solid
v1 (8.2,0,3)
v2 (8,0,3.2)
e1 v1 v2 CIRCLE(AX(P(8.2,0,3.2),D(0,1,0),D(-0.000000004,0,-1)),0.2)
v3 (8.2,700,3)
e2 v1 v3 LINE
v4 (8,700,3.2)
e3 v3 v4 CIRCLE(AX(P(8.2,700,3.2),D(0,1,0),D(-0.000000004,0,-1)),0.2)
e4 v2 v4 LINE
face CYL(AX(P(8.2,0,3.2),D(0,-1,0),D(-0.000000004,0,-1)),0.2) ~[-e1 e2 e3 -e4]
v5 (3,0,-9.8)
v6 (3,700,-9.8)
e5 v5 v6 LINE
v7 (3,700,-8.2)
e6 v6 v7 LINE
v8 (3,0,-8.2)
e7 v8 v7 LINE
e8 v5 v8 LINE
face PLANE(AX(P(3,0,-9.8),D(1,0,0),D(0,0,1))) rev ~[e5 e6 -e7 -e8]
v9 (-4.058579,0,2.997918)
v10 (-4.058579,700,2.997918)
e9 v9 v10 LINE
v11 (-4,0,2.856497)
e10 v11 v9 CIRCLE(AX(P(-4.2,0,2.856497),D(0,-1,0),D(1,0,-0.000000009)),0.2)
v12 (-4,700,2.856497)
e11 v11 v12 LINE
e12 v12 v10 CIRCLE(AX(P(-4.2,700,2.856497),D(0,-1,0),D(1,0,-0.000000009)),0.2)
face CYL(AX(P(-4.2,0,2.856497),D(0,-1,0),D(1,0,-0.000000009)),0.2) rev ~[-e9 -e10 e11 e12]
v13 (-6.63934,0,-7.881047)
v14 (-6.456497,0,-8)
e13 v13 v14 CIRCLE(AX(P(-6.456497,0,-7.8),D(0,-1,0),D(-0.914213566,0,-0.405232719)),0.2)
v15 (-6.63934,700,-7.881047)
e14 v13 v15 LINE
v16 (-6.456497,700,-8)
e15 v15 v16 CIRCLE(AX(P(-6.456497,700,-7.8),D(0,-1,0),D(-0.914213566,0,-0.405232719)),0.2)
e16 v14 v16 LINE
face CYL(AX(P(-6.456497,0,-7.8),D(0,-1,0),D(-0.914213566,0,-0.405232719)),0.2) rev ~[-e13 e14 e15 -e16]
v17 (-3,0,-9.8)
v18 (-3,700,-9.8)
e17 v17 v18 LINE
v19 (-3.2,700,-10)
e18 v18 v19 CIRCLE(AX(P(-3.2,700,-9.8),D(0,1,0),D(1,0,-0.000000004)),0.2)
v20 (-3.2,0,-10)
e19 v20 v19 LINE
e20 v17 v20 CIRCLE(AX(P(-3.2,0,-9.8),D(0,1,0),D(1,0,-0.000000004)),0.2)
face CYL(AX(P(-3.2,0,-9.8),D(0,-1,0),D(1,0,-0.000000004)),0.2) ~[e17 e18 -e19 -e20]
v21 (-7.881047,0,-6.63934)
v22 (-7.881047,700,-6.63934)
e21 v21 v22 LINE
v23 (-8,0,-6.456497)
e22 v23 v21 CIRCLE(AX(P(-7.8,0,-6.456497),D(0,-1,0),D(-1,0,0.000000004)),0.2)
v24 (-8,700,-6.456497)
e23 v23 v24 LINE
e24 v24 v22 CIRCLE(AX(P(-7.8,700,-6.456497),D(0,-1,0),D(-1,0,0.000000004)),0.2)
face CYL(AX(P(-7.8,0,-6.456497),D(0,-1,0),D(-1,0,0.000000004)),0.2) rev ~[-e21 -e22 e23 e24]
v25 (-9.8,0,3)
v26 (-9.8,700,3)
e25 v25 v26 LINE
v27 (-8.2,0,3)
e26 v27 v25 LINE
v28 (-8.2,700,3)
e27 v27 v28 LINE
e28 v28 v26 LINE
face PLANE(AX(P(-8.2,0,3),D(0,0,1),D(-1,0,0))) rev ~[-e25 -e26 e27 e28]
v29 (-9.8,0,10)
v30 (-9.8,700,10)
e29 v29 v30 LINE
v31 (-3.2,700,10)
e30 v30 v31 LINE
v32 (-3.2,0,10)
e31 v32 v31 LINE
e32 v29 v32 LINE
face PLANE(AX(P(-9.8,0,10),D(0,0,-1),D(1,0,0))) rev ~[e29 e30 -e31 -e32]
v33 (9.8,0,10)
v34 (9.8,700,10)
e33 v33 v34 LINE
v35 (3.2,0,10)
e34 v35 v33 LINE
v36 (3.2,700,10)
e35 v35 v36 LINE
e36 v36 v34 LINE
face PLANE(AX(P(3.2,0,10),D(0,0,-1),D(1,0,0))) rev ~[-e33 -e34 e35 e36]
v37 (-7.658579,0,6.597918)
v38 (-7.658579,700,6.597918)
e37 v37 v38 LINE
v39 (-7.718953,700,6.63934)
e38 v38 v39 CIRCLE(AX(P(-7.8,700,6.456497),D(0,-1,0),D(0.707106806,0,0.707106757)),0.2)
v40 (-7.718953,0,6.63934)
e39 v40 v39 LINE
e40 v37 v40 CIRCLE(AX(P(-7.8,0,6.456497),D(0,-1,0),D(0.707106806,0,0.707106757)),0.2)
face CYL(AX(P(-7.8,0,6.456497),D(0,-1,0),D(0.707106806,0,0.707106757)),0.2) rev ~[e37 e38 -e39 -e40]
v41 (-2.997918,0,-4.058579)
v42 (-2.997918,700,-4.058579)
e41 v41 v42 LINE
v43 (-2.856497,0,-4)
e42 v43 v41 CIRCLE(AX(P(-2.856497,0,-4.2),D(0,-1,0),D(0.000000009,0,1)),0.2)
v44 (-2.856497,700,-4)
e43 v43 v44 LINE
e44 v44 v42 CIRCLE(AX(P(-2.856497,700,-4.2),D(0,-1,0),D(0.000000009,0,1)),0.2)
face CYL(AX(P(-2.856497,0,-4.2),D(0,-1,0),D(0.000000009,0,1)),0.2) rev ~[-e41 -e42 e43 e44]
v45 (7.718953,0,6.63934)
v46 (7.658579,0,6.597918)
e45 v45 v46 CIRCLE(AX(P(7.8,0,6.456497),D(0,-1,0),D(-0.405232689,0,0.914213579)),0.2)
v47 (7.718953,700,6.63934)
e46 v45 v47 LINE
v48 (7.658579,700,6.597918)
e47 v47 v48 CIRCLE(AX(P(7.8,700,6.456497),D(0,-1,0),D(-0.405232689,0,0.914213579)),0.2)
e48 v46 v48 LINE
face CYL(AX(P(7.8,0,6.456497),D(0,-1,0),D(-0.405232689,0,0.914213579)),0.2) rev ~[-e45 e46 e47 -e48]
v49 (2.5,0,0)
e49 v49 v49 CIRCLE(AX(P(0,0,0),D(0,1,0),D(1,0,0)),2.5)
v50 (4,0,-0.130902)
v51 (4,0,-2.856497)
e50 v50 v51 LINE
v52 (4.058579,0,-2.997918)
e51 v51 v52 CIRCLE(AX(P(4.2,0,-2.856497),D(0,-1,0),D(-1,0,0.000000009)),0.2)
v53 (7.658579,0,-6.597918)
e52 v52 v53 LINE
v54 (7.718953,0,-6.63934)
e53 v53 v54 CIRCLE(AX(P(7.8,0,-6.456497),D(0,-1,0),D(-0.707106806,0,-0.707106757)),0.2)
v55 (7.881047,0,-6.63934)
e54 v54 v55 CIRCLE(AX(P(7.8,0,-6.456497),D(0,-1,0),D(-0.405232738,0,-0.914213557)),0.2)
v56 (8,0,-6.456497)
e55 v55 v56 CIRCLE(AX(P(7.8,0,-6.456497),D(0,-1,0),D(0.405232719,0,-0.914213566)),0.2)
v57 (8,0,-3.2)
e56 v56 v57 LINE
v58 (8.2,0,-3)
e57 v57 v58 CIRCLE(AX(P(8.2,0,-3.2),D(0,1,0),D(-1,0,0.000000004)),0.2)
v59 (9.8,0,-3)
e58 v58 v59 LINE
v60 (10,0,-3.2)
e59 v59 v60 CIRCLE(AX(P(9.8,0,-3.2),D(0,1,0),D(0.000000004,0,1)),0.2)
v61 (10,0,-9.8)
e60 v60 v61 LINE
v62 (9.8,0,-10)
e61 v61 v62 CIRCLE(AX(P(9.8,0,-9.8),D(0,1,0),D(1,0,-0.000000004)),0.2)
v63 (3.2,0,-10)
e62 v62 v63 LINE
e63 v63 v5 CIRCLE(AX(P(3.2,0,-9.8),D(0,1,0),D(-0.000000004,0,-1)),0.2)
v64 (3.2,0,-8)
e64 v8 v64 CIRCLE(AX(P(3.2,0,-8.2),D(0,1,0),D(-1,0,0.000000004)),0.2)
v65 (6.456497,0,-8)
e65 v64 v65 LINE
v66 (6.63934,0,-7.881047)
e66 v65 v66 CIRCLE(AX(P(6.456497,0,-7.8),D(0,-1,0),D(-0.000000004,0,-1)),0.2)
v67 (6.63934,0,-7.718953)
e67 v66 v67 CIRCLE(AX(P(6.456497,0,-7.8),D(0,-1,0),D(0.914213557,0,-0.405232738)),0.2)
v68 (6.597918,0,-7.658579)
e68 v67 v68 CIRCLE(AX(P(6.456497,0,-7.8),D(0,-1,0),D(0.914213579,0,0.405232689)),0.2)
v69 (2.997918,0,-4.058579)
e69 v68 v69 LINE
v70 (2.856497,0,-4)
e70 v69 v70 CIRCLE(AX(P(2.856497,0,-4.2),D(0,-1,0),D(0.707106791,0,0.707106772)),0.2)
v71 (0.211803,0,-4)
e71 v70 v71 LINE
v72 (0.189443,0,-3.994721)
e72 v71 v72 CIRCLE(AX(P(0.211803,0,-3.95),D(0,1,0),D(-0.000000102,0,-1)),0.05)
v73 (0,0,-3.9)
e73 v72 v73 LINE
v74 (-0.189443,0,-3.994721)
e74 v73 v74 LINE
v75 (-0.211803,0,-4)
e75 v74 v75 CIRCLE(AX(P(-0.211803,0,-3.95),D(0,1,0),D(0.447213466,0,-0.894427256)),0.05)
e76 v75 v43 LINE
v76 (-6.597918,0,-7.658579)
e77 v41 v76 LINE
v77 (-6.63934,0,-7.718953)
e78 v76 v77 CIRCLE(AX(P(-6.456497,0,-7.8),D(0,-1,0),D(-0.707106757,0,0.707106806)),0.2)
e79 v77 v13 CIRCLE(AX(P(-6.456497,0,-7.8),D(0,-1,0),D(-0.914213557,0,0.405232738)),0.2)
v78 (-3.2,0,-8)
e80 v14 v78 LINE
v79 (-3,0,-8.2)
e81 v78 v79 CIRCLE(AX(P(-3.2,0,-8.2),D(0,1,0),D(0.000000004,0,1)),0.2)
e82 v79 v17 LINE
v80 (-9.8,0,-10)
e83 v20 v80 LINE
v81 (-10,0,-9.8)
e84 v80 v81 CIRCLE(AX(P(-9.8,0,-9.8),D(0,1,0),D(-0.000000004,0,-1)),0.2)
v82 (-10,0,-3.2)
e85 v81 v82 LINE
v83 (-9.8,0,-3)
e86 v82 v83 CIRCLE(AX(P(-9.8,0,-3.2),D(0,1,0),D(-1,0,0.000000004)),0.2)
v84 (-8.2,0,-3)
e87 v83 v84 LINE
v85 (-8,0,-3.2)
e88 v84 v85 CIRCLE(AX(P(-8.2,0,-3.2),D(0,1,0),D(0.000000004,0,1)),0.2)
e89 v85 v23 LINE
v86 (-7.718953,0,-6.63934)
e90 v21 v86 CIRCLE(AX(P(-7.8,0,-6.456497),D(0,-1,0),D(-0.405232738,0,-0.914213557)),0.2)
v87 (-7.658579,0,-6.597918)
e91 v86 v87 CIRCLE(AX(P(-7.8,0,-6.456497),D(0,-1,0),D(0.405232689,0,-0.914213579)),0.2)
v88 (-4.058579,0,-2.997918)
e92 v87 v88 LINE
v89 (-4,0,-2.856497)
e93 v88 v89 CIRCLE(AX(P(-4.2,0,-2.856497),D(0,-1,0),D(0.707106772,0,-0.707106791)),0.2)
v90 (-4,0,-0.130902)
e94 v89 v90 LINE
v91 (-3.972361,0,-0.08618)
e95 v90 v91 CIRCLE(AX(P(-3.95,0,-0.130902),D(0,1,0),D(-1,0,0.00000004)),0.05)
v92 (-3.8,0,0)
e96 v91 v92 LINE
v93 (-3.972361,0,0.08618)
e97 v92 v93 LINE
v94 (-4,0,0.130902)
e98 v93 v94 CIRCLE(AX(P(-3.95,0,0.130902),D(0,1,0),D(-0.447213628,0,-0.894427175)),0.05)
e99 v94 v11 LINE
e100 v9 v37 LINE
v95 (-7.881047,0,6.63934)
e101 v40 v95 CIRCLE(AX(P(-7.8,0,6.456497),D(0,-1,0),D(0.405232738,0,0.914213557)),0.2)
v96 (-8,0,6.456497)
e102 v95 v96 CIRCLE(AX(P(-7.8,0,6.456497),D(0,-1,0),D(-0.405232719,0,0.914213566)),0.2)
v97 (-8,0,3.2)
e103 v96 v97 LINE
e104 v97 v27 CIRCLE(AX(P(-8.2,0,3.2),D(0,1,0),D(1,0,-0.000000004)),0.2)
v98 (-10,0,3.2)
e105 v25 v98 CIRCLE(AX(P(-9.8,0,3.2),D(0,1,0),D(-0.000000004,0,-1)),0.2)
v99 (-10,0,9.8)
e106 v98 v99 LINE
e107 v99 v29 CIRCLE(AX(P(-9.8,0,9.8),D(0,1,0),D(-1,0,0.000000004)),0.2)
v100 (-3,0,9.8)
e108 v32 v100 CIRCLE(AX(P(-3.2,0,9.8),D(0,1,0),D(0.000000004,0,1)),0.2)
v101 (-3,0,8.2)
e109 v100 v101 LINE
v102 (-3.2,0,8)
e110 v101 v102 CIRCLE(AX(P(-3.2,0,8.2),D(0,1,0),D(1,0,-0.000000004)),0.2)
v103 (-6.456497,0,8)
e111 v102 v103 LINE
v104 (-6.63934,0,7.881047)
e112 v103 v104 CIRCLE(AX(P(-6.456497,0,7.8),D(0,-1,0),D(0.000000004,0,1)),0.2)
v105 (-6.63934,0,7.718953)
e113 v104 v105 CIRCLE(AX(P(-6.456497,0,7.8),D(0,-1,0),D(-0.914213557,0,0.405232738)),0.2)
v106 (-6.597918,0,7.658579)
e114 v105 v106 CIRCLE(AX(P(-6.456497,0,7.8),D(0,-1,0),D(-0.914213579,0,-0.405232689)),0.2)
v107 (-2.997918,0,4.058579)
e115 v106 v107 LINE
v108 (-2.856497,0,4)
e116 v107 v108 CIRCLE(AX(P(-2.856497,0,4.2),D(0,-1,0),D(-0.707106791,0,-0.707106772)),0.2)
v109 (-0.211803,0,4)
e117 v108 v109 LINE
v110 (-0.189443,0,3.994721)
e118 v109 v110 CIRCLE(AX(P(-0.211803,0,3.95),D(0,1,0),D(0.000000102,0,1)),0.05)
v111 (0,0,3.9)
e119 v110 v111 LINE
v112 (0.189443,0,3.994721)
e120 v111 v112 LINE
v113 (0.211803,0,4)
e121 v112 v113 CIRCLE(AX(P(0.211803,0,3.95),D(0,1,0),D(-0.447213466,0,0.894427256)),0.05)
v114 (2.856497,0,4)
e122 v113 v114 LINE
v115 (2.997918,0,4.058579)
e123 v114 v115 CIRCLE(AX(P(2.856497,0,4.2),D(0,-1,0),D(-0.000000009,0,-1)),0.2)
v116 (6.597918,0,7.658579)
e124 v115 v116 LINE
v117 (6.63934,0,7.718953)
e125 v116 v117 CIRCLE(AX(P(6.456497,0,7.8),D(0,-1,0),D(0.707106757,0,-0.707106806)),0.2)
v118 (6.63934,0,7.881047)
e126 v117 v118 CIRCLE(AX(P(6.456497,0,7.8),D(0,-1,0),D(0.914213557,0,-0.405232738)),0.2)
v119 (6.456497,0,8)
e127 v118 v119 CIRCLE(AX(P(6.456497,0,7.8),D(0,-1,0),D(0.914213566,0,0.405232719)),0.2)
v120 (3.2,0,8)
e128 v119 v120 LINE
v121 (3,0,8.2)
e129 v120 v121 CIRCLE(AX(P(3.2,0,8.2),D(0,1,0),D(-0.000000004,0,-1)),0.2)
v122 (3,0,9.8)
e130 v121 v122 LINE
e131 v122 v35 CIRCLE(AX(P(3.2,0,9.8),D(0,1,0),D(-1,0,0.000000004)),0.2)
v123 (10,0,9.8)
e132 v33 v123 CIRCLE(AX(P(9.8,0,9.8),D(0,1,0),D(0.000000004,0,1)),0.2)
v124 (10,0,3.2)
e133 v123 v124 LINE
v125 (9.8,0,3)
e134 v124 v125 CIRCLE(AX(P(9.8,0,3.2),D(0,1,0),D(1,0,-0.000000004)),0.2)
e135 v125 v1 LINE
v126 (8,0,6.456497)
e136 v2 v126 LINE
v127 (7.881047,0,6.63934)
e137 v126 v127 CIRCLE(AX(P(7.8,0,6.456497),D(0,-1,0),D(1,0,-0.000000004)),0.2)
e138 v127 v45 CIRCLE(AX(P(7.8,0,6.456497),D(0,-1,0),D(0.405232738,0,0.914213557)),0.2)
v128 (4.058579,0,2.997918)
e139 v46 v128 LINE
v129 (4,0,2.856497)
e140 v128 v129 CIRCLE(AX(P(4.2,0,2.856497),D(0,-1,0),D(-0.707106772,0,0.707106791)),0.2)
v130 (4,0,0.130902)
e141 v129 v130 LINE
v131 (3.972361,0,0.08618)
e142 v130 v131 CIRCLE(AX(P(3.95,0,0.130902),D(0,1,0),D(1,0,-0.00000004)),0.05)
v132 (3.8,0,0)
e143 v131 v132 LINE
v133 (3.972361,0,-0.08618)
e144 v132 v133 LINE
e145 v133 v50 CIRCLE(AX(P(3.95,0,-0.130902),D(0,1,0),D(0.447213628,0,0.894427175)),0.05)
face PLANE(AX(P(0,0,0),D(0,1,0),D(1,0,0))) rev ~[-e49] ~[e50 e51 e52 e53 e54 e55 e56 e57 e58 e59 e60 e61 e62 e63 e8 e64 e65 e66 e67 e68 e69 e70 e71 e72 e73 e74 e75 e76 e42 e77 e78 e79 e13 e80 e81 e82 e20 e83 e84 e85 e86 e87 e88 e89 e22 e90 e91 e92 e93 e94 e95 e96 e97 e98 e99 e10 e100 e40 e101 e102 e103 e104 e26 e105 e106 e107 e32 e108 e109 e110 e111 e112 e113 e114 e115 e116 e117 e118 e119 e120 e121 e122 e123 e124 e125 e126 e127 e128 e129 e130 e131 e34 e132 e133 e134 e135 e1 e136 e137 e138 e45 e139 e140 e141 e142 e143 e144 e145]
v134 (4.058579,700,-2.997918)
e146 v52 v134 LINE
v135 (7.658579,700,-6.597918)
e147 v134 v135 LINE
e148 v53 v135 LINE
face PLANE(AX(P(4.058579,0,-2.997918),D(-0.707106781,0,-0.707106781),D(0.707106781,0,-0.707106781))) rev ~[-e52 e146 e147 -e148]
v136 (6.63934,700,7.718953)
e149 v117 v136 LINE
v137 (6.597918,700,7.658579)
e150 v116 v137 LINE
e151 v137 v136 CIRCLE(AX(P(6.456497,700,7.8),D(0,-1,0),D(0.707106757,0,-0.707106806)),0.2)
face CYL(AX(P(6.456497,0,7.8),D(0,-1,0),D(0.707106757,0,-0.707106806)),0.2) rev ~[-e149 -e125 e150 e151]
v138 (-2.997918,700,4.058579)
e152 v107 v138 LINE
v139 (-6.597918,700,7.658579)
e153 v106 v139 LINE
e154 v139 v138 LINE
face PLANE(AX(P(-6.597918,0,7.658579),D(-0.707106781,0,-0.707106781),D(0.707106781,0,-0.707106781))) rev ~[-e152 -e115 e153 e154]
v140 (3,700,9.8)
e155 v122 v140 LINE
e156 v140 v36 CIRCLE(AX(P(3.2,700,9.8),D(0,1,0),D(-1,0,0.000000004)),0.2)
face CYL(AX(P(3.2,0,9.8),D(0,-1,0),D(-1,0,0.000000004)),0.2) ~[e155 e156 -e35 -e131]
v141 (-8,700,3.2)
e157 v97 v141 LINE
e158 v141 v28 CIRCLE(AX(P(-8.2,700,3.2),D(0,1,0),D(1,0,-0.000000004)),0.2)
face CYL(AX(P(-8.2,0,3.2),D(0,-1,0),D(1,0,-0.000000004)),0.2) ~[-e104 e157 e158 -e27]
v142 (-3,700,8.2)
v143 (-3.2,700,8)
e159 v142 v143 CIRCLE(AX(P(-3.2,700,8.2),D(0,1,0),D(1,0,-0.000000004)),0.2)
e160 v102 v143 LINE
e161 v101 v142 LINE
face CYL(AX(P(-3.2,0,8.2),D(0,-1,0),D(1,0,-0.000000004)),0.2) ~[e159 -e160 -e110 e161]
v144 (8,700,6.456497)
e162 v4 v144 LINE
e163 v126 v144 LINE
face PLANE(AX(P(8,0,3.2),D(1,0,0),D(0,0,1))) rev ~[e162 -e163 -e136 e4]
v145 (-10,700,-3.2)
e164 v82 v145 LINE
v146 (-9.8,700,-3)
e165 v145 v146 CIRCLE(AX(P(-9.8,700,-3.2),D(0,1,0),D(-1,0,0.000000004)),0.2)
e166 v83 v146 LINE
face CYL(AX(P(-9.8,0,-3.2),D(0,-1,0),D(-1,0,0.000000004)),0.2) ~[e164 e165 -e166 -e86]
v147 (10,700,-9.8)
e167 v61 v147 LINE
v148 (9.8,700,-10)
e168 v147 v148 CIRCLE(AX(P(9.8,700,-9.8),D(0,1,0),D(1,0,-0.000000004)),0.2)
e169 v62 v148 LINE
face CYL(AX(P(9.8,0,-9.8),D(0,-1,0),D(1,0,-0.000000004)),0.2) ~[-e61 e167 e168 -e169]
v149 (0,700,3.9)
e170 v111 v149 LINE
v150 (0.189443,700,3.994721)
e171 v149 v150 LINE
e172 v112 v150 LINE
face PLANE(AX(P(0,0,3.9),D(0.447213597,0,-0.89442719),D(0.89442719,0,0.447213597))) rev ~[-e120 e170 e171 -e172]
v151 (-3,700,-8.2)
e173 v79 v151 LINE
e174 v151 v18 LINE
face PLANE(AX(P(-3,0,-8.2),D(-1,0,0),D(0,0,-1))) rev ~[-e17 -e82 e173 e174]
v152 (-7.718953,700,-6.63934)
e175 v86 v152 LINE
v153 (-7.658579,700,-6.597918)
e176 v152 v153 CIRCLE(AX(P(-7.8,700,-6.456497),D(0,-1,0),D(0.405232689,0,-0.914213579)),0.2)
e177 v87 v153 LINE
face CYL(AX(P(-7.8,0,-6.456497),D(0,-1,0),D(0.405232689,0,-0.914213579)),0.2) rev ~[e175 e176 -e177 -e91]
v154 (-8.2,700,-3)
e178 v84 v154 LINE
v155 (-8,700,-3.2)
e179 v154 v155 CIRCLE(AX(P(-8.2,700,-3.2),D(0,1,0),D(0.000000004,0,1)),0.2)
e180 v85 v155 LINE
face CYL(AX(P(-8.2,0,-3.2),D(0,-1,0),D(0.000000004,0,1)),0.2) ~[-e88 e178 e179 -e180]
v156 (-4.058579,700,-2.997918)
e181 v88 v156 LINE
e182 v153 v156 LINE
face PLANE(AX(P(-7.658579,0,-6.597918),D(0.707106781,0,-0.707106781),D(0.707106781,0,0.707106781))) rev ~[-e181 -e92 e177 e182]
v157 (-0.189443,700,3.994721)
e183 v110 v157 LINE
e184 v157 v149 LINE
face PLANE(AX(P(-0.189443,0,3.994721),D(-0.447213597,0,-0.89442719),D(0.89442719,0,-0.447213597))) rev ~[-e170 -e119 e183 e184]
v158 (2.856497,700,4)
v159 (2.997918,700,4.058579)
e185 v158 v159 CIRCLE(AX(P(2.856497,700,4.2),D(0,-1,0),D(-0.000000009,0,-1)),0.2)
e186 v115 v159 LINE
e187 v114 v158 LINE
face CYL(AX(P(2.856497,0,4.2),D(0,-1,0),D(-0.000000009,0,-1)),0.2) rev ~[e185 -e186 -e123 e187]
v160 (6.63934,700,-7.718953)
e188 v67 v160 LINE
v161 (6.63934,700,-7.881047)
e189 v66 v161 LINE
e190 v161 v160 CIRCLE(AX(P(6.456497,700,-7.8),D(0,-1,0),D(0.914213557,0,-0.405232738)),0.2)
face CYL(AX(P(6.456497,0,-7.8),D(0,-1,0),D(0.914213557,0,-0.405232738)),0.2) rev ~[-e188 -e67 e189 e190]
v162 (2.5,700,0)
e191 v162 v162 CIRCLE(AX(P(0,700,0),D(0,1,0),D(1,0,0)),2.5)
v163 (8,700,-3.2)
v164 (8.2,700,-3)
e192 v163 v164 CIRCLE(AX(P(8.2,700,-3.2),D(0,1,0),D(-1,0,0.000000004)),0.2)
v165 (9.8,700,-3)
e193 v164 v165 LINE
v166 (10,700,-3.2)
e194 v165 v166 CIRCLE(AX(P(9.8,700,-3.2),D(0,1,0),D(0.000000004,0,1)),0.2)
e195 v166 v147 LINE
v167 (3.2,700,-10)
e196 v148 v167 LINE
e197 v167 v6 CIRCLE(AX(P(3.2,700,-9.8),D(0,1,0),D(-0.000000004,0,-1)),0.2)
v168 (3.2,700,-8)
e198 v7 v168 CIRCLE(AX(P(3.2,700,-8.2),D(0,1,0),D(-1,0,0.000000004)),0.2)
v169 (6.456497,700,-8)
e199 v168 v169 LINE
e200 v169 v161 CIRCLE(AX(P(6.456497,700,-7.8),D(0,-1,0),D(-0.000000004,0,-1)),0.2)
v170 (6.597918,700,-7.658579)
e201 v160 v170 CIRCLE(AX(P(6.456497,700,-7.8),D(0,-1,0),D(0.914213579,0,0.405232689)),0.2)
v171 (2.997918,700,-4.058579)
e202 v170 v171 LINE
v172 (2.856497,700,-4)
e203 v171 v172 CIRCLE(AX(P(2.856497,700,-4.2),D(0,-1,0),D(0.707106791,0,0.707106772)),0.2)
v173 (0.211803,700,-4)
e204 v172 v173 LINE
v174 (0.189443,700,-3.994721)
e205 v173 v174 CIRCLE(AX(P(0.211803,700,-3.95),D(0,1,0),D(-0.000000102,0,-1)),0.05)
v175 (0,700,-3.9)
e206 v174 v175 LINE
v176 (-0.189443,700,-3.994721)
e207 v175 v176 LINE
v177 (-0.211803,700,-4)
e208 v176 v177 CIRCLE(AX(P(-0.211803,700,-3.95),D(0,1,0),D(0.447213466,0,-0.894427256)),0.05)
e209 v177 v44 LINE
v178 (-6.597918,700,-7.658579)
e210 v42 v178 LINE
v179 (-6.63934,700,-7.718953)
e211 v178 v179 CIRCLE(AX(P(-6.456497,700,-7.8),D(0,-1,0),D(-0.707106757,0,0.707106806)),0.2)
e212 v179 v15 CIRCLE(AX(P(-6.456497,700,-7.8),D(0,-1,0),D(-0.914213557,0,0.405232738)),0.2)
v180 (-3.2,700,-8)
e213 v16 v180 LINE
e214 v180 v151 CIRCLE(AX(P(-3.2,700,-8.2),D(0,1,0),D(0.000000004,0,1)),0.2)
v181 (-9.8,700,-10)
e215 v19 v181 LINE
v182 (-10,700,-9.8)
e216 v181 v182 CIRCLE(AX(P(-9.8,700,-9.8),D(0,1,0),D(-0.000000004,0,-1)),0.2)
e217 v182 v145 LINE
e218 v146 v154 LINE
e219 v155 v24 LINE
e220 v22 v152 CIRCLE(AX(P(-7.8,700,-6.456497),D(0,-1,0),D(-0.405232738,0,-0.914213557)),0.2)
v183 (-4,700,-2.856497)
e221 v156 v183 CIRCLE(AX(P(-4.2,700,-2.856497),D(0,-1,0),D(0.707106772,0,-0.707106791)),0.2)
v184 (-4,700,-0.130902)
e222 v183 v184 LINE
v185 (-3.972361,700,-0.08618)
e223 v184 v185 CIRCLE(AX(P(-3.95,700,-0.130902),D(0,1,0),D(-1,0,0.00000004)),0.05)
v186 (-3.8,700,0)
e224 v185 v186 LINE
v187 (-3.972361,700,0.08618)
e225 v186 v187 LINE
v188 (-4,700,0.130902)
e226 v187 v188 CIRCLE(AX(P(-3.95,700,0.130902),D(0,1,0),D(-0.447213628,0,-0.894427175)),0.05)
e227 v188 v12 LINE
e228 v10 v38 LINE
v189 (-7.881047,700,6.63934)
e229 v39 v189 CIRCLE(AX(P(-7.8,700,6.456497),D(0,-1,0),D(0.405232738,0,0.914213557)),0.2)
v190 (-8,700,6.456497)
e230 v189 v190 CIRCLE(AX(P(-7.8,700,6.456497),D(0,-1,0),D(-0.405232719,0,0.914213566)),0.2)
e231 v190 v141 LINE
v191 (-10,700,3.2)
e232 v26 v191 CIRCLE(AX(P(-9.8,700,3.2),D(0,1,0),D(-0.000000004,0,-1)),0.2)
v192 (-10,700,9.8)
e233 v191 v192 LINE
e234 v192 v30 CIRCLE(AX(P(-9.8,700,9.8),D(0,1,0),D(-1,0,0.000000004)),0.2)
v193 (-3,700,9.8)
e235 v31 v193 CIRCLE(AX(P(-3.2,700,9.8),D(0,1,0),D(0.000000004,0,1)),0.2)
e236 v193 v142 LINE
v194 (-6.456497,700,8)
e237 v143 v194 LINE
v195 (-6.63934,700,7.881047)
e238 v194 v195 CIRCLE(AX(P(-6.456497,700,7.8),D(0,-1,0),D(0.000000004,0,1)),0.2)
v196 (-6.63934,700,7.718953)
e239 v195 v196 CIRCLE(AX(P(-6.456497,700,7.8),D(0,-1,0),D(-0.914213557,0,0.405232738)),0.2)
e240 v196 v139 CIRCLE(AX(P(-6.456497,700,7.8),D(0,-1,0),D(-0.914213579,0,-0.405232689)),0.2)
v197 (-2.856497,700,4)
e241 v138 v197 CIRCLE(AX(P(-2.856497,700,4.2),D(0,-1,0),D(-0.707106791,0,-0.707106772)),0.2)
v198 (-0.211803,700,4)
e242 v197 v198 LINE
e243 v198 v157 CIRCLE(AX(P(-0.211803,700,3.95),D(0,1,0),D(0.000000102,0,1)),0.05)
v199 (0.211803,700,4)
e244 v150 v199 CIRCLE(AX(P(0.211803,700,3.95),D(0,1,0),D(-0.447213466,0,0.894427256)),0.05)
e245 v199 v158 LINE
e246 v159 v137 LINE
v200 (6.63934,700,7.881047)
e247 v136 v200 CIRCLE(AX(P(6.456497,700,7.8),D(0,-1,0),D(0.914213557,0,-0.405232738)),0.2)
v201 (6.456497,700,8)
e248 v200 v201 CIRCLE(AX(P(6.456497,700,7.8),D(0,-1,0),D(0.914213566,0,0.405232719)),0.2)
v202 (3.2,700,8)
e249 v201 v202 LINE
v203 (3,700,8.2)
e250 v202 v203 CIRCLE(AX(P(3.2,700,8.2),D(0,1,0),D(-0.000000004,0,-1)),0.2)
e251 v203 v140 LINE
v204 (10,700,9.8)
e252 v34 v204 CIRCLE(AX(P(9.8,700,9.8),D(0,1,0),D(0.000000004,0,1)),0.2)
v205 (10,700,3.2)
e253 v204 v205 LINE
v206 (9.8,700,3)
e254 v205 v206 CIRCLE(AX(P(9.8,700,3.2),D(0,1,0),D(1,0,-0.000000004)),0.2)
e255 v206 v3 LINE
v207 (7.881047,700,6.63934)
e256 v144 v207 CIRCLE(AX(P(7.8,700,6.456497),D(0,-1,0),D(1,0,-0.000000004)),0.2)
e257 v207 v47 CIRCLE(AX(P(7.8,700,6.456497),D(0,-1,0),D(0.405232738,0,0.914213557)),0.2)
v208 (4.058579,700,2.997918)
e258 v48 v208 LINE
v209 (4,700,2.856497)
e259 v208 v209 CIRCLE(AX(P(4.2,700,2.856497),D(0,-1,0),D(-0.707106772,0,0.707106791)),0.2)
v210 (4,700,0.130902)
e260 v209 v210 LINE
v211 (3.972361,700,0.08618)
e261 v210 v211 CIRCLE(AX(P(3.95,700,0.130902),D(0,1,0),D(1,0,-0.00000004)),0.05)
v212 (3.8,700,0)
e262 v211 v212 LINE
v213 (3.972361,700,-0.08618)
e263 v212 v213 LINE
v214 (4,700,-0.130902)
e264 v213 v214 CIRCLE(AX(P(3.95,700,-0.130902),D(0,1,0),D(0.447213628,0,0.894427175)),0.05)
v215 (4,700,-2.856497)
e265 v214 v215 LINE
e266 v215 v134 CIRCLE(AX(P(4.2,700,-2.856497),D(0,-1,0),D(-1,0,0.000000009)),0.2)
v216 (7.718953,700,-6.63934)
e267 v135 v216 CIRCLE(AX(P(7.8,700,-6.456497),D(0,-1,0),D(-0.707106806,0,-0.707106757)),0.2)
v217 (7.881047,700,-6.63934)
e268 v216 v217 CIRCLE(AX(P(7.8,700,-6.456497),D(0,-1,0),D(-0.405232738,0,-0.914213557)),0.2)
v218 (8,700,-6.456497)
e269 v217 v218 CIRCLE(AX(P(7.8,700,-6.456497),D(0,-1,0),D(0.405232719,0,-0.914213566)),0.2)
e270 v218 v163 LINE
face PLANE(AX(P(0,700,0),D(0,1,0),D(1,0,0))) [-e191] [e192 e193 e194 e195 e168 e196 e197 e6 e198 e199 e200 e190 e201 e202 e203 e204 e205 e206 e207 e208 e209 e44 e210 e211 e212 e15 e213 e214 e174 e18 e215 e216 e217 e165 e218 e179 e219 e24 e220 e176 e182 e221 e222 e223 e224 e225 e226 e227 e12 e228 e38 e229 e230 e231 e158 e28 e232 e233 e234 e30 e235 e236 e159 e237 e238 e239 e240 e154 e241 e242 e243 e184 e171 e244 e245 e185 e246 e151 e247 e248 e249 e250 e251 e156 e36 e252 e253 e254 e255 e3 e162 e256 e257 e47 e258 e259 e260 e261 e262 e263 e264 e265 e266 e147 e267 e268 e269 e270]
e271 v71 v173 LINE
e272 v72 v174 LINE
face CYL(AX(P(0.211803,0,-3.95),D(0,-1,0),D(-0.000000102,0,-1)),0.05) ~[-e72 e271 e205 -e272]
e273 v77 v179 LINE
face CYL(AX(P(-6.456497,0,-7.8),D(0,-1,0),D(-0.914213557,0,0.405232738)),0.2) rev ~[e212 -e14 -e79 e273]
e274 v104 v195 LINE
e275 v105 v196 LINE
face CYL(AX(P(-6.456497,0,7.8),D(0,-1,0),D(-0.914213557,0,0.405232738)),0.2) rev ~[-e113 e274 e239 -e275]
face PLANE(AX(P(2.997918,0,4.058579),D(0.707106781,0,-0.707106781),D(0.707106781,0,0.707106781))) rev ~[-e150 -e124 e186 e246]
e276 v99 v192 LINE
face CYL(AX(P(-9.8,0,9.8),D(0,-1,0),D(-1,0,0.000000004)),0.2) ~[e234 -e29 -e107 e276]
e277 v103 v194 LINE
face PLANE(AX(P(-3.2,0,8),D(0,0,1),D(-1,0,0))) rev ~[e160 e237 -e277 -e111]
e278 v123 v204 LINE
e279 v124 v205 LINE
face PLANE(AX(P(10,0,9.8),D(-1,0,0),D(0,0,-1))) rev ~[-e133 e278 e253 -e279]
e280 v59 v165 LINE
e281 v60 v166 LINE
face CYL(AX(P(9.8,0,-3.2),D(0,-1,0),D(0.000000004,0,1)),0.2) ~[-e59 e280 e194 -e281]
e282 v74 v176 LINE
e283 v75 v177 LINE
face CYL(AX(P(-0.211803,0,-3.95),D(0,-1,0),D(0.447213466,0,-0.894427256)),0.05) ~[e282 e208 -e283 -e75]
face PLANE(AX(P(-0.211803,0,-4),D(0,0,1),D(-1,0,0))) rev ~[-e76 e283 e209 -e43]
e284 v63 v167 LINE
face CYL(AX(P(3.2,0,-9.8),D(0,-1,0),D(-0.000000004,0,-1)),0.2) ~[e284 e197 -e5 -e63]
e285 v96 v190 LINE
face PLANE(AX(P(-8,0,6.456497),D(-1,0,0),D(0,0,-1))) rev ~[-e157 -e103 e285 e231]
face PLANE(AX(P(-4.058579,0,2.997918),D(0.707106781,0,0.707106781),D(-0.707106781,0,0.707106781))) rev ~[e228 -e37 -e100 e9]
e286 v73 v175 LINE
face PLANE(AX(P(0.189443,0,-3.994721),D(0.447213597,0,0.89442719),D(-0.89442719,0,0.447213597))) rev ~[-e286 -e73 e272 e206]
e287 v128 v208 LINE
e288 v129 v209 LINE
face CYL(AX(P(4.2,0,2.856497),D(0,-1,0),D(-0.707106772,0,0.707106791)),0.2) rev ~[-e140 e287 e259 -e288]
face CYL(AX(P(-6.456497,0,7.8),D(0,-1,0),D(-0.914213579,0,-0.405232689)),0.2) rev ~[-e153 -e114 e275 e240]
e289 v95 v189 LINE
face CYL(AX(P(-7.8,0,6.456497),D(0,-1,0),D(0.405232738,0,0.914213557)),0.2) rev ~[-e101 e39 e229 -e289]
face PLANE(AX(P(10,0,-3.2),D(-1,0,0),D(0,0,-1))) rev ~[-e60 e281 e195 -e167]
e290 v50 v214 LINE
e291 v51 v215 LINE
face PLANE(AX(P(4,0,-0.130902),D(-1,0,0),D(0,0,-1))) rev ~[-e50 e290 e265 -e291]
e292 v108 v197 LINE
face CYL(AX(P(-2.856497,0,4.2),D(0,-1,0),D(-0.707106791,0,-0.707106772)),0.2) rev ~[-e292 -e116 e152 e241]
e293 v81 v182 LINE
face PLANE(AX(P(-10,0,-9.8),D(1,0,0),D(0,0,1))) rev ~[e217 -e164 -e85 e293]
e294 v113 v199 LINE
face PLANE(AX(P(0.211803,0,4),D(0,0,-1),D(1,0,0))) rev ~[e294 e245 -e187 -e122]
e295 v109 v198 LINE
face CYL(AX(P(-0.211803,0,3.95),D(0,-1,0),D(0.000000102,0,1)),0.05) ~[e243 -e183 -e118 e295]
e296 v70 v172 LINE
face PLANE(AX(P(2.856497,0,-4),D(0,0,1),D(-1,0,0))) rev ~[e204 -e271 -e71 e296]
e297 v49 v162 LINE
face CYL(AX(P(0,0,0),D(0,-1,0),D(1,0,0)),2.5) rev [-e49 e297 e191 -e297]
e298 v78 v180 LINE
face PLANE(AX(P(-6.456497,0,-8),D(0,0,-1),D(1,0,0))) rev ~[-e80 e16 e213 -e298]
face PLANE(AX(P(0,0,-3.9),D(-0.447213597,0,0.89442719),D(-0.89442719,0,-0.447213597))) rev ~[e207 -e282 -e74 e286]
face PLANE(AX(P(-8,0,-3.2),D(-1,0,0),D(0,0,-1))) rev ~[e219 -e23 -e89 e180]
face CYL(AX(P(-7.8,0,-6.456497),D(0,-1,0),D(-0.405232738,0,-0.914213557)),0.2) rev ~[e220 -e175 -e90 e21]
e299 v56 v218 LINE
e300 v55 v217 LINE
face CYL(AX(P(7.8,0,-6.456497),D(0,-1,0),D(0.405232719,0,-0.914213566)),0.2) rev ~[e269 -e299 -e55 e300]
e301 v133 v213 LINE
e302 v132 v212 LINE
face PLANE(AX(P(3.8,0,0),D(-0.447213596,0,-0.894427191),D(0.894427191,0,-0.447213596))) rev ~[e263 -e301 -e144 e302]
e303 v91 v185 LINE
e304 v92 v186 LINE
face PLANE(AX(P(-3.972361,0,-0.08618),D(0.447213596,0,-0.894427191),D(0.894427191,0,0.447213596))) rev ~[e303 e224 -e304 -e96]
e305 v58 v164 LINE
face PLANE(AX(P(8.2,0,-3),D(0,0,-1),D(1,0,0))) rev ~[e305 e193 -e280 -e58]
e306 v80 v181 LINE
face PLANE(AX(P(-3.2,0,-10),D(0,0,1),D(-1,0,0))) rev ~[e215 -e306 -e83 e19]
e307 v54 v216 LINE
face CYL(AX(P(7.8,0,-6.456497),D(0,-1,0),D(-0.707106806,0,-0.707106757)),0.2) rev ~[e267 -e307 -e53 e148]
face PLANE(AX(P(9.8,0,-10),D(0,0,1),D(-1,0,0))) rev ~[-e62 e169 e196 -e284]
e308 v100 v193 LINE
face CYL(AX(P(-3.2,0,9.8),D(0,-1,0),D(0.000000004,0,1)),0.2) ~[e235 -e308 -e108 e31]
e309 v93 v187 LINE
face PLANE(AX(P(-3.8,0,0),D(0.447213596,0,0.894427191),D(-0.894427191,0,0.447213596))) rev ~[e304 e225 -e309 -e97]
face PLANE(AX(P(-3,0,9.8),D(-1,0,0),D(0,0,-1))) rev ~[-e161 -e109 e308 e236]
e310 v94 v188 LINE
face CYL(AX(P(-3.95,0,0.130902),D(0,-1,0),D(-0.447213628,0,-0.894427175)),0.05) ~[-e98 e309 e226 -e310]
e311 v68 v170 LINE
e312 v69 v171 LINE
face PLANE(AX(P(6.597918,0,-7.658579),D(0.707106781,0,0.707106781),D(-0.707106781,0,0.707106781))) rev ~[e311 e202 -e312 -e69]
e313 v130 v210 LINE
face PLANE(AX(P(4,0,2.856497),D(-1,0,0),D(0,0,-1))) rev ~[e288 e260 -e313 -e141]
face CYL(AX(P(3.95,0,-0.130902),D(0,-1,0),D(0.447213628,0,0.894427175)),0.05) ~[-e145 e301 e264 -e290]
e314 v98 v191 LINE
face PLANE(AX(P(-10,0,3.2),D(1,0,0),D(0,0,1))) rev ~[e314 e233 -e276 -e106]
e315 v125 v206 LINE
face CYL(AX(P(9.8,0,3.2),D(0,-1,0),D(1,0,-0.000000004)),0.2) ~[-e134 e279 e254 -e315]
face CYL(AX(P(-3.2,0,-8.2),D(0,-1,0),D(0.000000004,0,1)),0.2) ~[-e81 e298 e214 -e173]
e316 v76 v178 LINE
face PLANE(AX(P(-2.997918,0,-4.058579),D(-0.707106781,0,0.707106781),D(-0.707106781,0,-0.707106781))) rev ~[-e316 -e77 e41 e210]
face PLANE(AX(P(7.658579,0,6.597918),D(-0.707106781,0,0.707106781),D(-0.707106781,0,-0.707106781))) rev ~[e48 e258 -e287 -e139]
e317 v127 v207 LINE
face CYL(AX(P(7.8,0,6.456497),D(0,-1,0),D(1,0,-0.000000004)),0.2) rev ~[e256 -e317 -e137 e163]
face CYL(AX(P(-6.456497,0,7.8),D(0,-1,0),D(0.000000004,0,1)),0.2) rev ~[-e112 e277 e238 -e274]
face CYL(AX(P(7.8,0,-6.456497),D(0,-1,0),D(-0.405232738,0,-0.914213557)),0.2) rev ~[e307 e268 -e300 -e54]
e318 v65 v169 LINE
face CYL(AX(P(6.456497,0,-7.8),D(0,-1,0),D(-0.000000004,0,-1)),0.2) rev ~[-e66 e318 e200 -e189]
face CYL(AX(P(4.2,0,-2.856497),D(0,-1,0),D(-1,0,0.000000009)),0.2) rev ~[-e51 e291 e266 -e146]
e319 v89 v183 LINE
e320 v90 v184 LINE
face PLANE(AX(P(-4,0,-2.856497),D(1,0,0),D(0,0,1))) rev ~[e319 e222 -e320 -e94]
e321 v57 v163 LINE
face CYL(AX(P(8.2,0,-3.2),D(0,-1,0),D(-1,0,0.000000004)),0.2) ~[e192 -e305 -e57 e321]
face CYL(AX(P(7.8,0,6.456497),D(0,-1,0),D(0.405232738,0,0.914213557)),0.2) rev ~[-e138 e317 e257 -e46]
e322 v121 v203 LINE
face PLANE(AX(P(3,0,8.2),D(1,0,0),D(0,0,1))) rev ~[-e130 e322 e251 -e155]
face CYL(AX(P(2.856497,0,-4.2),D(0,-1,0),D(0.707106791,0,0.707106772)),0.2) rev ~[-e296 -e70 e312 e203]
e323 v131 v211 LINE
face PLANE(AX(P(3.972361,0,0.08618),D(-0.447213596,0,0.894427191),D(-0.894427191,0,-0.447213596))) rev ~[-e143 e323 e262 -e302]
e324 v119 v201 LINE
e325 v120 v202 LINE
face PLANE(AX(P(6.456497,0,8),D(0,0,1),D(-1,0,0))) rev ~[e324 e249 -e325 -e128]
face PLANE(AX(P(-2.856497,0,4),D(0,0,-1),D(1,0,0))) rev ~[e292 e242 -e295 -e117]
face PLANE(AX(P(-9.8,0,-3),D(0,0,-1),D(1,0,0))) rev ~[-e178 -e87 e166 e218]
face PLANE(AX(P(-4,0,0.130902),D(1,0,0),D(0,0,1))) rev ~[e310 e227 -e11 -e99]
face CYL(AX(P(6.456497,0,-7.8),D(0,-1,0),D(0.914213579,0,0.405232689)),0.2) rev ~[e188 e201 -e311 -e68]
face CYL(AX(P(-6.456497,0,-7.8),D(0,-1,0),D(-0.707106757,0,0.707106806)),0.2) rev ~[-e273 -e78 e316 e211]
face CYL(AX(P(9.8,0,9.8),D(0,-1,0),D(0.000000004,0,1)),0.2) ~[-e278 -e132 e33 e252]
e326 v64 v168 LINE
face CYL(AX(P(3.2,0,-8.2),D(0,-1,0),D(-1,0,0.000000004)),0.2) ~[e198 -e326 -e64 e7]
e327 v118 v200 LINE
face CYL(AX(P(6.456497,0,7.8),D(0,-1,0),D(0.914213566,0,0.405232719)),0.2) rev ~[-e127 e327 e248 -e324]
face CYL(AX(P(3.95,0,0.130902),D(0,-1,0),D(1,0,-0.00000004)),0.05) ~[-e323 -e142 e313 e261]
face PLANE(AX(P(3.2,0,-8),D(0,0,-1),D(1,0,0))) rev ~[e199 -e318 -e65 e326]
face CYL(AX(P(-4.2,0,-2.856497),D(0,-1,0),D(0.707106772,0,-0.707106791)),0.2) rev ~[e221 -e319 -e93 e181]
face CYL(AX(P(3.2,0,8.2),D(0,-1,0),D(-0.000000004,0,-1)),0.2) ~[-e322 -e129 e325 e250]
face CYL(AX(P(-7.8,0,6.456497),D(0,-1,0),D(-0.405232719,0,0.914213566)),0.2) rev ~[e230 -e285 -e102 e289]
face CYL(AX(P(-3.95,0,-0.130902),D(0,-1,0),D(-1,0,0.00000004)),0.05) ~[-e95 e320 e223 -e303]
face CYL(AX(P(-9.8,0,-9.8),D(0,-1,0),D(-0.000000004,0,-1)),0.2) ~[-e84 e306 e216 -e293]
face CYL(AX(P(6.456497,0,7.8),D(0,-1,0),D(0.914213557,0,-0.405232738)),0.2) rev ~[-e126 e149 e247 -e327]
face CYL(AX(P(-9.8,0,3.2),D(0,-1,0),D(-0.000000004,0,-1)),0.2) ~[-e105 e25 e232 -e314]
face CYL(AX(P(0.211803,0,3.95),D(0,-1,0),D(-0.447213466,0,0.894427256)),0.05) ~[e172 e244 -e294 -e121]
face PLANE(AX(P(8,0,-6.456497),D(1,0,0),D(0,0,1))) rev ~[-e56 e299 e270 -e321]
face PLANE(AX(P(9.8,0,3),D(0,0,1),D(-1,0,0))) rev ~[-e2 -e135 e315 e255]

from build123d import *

# Parameters (mm, degrees)
SKETCH1_R           = 2.5
BOSS_EXTRUDE1_DEPTH = 700


with BuildPart() as part:
    # Sketch1 → Boss-Extrude1 (new body)
    with BuildSketch(Plane(origin=(0, 0, 0), x_dir=(1, 0, 0), z_dir=(0, 1, 0))):
        with BuildLine():
            Line((-2.997918472, 4.058578644), (-6.597918472, 7.658578644))
            ThreePointArc((-6.597918472, 7.658578644), (-6.621415508, 7.686854412), (-6.639339828, 7.718953455))
            ThreePointArc((-6.639339828, 7.718953455), (-6.656497116, 7.8), (-6.639339828, 7.881046545))
            ThreePointArc((-6.639339828, 7.881046545), (-6.565562901, 7.967644429), (-6.456497116, 8))
            Line((-6.456497116, 8), (-3.2, 8))
            ThreePointArc((-3.2, 8), (-3.058578644, 8.058578644), (-3, 8.2))
            Line((-3, 8.2), (-3, 9.8))
            ThreePointArc((-3, 9.8), (-3.058578644, 9.941421356), (-3.2, 10))
            Line((-3.2, 10), (-9.8, 10))
            ThreePointArc((-9.8, 10), (-9.941421356, 9.941421356), (-10, 9.8))
            Line((-10, 9.8), (-10, 3.2))
            ThreePointArc((-10, 3.2), (-9.941421356, 3.058578644), (-9.8, 3))
            Line((-9.8, 3), (-8.2, 3))
            ThreePointArc((-8.2, 3), (-8.058578644, 3.058578644), (-8, 3.2))
            Line((-8, 3.2), (-8, 6.456497116))
            ThreePointArc((-8, 6.456497116), (-7.967644429, 6.565562901), (-7.881046545, 6.639339828))
            ThreePointArc((-7.881046545, 6.639339828), (-7.8, 6.656497116), (-7.718953455, 6.639339828))
            ThreePointArc((-7.718953455, 6.639339828), (-7.686854412, 6.621415508), (-7.658578644, 6.597918472))
            Line((-7.658578644, 6.597918472), (-4.058578644, 2.997918472))
            ThreePointArc((-4.058578644, 2.997918472), (-4.015224093, 2.933033802), (-4, 2.856497116))
            Line((-4, 2.856497116), (-4, 0.130901699))
            ThreePointArc((-4, 0.130901699), (-3.99253254, 0.104615144), (-3.97236068, 0.08618034))
            Line((-3.97236068, 0.08618034), (-3.8, 0))
            Line((-3.8, 0), (-3.97236068, -0.08618034))
            ThreePointArc((-3.97236068, -0.08618034), (-3.99253254, -0.104615144), (-4, -0.130901699))
            Line((-4, -0.130901699), (-4, -2.856497116))
            ThreePointArc((-4, -2.856497116), (-4.015224093, -2.933033802), (-4.058578644, -2.997918472))
            Line((-4.058578644, -2.997918472), (-7.658578644, -6.597918472))
            ThreePointArc((-7.658578644, -6.597918472), (-7.686854412, -6.621415508), (-7.718953455, -6.639339828))
            ThreePointArc((-7.718953455, -6.639339828), (-7.8, -6.656497116), (-7.881046545, -6.639339828))
            ThreePointArc((-7.881046545, -6.639339828), (-7.967644429, -6.565562901), (-8, -6.456497116))
            Line((-8, -6.456497116), (-8, -3.2))
            ThreePointArc((-8, -3.2), (-8.058578644, -3.058578644), (-8.2, -3))
            Line((-8.2, -3), (-9.8, -3))
            ThreePointArc((-9.8, -3), (-9.941421356, -3.058578644), (-10, -3.2))
            Line((-10, -3.2), (-10, -9.8))
            ThreePointArc((-10, -9.8), (-9.941421356, -9.941421356), (-9.8, -10))
            Line((-9.8, -10), (-3.2, -10))
            ThreePointArc((-3.2, -10), (-3.058578644, -9.941421356), (-3, -9.8))
            Line((-3, -9.8), (-3, -8.2))
            ThreePointArc((-3, -8.2), (-3.058578644, -8.058578644), (-3.2, -8))
            Line((-3.2, -8), (-6.456497116, -8))
            ThreePointArc((-6.456497116, -8), (-6.565562901, -7.967644429), (-6.639339828, -7.881046545))
            ThreePointArc((-6.639339828, -7.881046545), (-6.656497116, -7.8), (-6.639339828, -7.718953455))
            ThreePointArc((-6.639339828, -7.718953455), (-6.621415508, -7.686854412), (-6.597918472, -7.658578644))
            Line((-6.597918472, -7.658578644), (-2.997918472, -4.058578644))
            ThreePointArc((-2.997918472, -4.058578644), (-2.933033802, -4.015224093), (-2.856497116, -4))
            Line((-2.856497116, -4), (-0.211803399, -4))
            ThreePointArc((-0.211803399, -4), (-0.200315753, -3.998662449), (-0.189442719, -3.99472136))
            Line((-0.189442719, -3.99472136), (0, -3.9))
            Line((0, -3.9), (0.189442719, -3.99472136))
            ThreePointArc((0.189442719, -3.99472136), (0.200315753, -3.998662449), (0.211803399, -4))
            Line((0.211803399, -4), (2.856497116, -4))
            ThreePointArc((2.856497116, -4), (2.933033802, -4.015224093), (2.997918472, -4.058578644))
            Line((2.997918472, -4.058578644), (6.597918472, -7.658578644))
            ThreePointArc((6.597918472, -7.658578644), (6.621415508, -7.686854412), (6.639339828, -7.718953455))
            ThreePointArc((6.639339828, -7.718953455), (6.656497116, -7.8), (6.639339828, -7.881046545))
            ThreePointArc((6.639339828, -7.881046545), (6.565562901, -7.967644429), (6.456497116, -8))
            Line((6.456497116, -8), (3.2, -8))
            ThreePointArc((3.2, -8), (3.058578644, -8.058578644), (3, -8.2))
            Line((3, -8.2), (3, -9.8))
            ThreePointArc((3, -9.8), (3.058578644, -9.941421356), (3.2, -10))
            Line((3.2, -10), (9.8, -10))
            ThreePointArc((9.8, -10), (9.941421356, -9.941421356), (10, -9.8))
            Line((10, -9.8), (10, -3.2))
            ThreePointArc((10, -3.2), (9.941421356, -3.058578644), (9.8, -3))
            Line((9.8, -3), (8.2, -3))
            ThreePointArc((8.2, -3), (8.058578644, -3.058578644), (8, -3.2))
            Line((8, -3.2), (8, -6.456497116))
            ThreePointArc((8, -6.456497116), (7.967644429, -6.565562901), (7.881046545, -6.639339828))
            ThreePointArc((7.881046545, -6.639339828), (7.8, -6.656497116), (7.718953455, -6.639339828))
            ThreePointArc((7.718953455, -6.639339828), (7.686854412, -6.621415508), (7.658578644, -6.597918472))
            Line((7.658578644, -6.597918472), (4.058578644, -2.997918472))
            ThreePointArc((4.058578644, -2.997918472), (4.015224093, -2.933033802), (4, -2.856497116))
            Line((4, -2.856497116), (4, -0.130901699))
            ThreePointArc((4, -0.130901699), (3.99253254, -0.104615144), (3.97236068, -0.08618034))
            Line((3.97236068, -0.08618034), (3.8, 0))
            Line((3.8, 0), (3.97236068, 0.08618034))
            ThreePointArc((3.97236068, 0.08618034), (3.99253254, 0.104615144), (4, 0.130901699))
            Line((4, 0.130901699), (4, 2.856497116))
            ThreePointArc((4, 2.856497116), (4.015224093, 2.933033802), (4.058578644, 2.997918472))
            Line((4.058578644, 2.997918472), (7.658578644, 6.597918472))
            ThreePointArc((7.658578644, 6.597918472), (7.686854412, 6.621415508), (7.718953455, 6.639339828))
            ThreePointArc((7.718953455, 6.639339828), (7.8, 6.656497116), (7.881046545, 6.639339828))
            ThreePointArc((7.881046545, 6.639339828), (7.967644429, 6.565562901), (8, 6.456497116))
            Line((8, 6.456497116), (8, 3.2))
            ThreePointArc((8, 3.2), (8.058578644, 3.058578644), (8.2, 3))
            Line((8.2, 3), (9.8, 3))
            ThreePointArc((9.8, 3), (9.941421356, 3.058578644), (10, 3.2))
            Line((10, 3.2), (10, 9.8))
            ThreePointArc((10, 9.8), (9.941421356, 9.941421356), (9.8, 10))
            Line((9.8, 10), (3.2, 10))
            ThreePointArc((3.2, 10), (3.058578644, 9.941421356), (3, 9.8))
            Line((3, 9.8), (3, 8.2))
            ThreePointArc((3, 8.2), (3.058578644, 8.058578644), (3.2, 8))
            Line((3.2, 8), (6.456497116, 8))
            ThreePointArc((6.456497116, 8), (6.565562901, 7.967644429), (6.639339828, 7.881046545))
            ThreePointArc((6.639339828, 7.881046545), (6.656497116, 7.8), (6.639339828, 7.718953455))
            ThreePointArc((6.639339828, 7.718953455), (6.621415508, 7.686854412), (6.597918472, 7.658578644))
            Line((6.597918472, 7.658578644), (2.997918472, 4.058578644))
            ThreePointArc((2.997918472, 4.058578644), (2.933033802, 4.015224093), (2.856497116, 4))
            Line((2.856497116, 4), (0.211803399, 4))
            ThreePointArc((0.211803399, 4), (0.200315753, 3.998662449), (0.189442719, 3.99472136))
            Line((0.189442719, 3.99472136), (0, 3.9))
            Line((0, 3.9), (-0.189442719, 3.99472136))
            ThreePointArc((-0.189442719, 3.99472136), (-0.200315753, 3.998662449), (-0.211803399, 4))
            Line((-0.211803399, 4), (-2.856497116, 4))
            ThreePointArc((-2.856497116, 4), (-2.933033802, 4.015224093), (-2.997918472, 4.058578644))
        make_face()
        Circle(SKETCH1_R, mode=Mode.SUBTRACT)
    extrude(amount=BOSS_EXTRUDE1_DEPTH)


solid = part.part
